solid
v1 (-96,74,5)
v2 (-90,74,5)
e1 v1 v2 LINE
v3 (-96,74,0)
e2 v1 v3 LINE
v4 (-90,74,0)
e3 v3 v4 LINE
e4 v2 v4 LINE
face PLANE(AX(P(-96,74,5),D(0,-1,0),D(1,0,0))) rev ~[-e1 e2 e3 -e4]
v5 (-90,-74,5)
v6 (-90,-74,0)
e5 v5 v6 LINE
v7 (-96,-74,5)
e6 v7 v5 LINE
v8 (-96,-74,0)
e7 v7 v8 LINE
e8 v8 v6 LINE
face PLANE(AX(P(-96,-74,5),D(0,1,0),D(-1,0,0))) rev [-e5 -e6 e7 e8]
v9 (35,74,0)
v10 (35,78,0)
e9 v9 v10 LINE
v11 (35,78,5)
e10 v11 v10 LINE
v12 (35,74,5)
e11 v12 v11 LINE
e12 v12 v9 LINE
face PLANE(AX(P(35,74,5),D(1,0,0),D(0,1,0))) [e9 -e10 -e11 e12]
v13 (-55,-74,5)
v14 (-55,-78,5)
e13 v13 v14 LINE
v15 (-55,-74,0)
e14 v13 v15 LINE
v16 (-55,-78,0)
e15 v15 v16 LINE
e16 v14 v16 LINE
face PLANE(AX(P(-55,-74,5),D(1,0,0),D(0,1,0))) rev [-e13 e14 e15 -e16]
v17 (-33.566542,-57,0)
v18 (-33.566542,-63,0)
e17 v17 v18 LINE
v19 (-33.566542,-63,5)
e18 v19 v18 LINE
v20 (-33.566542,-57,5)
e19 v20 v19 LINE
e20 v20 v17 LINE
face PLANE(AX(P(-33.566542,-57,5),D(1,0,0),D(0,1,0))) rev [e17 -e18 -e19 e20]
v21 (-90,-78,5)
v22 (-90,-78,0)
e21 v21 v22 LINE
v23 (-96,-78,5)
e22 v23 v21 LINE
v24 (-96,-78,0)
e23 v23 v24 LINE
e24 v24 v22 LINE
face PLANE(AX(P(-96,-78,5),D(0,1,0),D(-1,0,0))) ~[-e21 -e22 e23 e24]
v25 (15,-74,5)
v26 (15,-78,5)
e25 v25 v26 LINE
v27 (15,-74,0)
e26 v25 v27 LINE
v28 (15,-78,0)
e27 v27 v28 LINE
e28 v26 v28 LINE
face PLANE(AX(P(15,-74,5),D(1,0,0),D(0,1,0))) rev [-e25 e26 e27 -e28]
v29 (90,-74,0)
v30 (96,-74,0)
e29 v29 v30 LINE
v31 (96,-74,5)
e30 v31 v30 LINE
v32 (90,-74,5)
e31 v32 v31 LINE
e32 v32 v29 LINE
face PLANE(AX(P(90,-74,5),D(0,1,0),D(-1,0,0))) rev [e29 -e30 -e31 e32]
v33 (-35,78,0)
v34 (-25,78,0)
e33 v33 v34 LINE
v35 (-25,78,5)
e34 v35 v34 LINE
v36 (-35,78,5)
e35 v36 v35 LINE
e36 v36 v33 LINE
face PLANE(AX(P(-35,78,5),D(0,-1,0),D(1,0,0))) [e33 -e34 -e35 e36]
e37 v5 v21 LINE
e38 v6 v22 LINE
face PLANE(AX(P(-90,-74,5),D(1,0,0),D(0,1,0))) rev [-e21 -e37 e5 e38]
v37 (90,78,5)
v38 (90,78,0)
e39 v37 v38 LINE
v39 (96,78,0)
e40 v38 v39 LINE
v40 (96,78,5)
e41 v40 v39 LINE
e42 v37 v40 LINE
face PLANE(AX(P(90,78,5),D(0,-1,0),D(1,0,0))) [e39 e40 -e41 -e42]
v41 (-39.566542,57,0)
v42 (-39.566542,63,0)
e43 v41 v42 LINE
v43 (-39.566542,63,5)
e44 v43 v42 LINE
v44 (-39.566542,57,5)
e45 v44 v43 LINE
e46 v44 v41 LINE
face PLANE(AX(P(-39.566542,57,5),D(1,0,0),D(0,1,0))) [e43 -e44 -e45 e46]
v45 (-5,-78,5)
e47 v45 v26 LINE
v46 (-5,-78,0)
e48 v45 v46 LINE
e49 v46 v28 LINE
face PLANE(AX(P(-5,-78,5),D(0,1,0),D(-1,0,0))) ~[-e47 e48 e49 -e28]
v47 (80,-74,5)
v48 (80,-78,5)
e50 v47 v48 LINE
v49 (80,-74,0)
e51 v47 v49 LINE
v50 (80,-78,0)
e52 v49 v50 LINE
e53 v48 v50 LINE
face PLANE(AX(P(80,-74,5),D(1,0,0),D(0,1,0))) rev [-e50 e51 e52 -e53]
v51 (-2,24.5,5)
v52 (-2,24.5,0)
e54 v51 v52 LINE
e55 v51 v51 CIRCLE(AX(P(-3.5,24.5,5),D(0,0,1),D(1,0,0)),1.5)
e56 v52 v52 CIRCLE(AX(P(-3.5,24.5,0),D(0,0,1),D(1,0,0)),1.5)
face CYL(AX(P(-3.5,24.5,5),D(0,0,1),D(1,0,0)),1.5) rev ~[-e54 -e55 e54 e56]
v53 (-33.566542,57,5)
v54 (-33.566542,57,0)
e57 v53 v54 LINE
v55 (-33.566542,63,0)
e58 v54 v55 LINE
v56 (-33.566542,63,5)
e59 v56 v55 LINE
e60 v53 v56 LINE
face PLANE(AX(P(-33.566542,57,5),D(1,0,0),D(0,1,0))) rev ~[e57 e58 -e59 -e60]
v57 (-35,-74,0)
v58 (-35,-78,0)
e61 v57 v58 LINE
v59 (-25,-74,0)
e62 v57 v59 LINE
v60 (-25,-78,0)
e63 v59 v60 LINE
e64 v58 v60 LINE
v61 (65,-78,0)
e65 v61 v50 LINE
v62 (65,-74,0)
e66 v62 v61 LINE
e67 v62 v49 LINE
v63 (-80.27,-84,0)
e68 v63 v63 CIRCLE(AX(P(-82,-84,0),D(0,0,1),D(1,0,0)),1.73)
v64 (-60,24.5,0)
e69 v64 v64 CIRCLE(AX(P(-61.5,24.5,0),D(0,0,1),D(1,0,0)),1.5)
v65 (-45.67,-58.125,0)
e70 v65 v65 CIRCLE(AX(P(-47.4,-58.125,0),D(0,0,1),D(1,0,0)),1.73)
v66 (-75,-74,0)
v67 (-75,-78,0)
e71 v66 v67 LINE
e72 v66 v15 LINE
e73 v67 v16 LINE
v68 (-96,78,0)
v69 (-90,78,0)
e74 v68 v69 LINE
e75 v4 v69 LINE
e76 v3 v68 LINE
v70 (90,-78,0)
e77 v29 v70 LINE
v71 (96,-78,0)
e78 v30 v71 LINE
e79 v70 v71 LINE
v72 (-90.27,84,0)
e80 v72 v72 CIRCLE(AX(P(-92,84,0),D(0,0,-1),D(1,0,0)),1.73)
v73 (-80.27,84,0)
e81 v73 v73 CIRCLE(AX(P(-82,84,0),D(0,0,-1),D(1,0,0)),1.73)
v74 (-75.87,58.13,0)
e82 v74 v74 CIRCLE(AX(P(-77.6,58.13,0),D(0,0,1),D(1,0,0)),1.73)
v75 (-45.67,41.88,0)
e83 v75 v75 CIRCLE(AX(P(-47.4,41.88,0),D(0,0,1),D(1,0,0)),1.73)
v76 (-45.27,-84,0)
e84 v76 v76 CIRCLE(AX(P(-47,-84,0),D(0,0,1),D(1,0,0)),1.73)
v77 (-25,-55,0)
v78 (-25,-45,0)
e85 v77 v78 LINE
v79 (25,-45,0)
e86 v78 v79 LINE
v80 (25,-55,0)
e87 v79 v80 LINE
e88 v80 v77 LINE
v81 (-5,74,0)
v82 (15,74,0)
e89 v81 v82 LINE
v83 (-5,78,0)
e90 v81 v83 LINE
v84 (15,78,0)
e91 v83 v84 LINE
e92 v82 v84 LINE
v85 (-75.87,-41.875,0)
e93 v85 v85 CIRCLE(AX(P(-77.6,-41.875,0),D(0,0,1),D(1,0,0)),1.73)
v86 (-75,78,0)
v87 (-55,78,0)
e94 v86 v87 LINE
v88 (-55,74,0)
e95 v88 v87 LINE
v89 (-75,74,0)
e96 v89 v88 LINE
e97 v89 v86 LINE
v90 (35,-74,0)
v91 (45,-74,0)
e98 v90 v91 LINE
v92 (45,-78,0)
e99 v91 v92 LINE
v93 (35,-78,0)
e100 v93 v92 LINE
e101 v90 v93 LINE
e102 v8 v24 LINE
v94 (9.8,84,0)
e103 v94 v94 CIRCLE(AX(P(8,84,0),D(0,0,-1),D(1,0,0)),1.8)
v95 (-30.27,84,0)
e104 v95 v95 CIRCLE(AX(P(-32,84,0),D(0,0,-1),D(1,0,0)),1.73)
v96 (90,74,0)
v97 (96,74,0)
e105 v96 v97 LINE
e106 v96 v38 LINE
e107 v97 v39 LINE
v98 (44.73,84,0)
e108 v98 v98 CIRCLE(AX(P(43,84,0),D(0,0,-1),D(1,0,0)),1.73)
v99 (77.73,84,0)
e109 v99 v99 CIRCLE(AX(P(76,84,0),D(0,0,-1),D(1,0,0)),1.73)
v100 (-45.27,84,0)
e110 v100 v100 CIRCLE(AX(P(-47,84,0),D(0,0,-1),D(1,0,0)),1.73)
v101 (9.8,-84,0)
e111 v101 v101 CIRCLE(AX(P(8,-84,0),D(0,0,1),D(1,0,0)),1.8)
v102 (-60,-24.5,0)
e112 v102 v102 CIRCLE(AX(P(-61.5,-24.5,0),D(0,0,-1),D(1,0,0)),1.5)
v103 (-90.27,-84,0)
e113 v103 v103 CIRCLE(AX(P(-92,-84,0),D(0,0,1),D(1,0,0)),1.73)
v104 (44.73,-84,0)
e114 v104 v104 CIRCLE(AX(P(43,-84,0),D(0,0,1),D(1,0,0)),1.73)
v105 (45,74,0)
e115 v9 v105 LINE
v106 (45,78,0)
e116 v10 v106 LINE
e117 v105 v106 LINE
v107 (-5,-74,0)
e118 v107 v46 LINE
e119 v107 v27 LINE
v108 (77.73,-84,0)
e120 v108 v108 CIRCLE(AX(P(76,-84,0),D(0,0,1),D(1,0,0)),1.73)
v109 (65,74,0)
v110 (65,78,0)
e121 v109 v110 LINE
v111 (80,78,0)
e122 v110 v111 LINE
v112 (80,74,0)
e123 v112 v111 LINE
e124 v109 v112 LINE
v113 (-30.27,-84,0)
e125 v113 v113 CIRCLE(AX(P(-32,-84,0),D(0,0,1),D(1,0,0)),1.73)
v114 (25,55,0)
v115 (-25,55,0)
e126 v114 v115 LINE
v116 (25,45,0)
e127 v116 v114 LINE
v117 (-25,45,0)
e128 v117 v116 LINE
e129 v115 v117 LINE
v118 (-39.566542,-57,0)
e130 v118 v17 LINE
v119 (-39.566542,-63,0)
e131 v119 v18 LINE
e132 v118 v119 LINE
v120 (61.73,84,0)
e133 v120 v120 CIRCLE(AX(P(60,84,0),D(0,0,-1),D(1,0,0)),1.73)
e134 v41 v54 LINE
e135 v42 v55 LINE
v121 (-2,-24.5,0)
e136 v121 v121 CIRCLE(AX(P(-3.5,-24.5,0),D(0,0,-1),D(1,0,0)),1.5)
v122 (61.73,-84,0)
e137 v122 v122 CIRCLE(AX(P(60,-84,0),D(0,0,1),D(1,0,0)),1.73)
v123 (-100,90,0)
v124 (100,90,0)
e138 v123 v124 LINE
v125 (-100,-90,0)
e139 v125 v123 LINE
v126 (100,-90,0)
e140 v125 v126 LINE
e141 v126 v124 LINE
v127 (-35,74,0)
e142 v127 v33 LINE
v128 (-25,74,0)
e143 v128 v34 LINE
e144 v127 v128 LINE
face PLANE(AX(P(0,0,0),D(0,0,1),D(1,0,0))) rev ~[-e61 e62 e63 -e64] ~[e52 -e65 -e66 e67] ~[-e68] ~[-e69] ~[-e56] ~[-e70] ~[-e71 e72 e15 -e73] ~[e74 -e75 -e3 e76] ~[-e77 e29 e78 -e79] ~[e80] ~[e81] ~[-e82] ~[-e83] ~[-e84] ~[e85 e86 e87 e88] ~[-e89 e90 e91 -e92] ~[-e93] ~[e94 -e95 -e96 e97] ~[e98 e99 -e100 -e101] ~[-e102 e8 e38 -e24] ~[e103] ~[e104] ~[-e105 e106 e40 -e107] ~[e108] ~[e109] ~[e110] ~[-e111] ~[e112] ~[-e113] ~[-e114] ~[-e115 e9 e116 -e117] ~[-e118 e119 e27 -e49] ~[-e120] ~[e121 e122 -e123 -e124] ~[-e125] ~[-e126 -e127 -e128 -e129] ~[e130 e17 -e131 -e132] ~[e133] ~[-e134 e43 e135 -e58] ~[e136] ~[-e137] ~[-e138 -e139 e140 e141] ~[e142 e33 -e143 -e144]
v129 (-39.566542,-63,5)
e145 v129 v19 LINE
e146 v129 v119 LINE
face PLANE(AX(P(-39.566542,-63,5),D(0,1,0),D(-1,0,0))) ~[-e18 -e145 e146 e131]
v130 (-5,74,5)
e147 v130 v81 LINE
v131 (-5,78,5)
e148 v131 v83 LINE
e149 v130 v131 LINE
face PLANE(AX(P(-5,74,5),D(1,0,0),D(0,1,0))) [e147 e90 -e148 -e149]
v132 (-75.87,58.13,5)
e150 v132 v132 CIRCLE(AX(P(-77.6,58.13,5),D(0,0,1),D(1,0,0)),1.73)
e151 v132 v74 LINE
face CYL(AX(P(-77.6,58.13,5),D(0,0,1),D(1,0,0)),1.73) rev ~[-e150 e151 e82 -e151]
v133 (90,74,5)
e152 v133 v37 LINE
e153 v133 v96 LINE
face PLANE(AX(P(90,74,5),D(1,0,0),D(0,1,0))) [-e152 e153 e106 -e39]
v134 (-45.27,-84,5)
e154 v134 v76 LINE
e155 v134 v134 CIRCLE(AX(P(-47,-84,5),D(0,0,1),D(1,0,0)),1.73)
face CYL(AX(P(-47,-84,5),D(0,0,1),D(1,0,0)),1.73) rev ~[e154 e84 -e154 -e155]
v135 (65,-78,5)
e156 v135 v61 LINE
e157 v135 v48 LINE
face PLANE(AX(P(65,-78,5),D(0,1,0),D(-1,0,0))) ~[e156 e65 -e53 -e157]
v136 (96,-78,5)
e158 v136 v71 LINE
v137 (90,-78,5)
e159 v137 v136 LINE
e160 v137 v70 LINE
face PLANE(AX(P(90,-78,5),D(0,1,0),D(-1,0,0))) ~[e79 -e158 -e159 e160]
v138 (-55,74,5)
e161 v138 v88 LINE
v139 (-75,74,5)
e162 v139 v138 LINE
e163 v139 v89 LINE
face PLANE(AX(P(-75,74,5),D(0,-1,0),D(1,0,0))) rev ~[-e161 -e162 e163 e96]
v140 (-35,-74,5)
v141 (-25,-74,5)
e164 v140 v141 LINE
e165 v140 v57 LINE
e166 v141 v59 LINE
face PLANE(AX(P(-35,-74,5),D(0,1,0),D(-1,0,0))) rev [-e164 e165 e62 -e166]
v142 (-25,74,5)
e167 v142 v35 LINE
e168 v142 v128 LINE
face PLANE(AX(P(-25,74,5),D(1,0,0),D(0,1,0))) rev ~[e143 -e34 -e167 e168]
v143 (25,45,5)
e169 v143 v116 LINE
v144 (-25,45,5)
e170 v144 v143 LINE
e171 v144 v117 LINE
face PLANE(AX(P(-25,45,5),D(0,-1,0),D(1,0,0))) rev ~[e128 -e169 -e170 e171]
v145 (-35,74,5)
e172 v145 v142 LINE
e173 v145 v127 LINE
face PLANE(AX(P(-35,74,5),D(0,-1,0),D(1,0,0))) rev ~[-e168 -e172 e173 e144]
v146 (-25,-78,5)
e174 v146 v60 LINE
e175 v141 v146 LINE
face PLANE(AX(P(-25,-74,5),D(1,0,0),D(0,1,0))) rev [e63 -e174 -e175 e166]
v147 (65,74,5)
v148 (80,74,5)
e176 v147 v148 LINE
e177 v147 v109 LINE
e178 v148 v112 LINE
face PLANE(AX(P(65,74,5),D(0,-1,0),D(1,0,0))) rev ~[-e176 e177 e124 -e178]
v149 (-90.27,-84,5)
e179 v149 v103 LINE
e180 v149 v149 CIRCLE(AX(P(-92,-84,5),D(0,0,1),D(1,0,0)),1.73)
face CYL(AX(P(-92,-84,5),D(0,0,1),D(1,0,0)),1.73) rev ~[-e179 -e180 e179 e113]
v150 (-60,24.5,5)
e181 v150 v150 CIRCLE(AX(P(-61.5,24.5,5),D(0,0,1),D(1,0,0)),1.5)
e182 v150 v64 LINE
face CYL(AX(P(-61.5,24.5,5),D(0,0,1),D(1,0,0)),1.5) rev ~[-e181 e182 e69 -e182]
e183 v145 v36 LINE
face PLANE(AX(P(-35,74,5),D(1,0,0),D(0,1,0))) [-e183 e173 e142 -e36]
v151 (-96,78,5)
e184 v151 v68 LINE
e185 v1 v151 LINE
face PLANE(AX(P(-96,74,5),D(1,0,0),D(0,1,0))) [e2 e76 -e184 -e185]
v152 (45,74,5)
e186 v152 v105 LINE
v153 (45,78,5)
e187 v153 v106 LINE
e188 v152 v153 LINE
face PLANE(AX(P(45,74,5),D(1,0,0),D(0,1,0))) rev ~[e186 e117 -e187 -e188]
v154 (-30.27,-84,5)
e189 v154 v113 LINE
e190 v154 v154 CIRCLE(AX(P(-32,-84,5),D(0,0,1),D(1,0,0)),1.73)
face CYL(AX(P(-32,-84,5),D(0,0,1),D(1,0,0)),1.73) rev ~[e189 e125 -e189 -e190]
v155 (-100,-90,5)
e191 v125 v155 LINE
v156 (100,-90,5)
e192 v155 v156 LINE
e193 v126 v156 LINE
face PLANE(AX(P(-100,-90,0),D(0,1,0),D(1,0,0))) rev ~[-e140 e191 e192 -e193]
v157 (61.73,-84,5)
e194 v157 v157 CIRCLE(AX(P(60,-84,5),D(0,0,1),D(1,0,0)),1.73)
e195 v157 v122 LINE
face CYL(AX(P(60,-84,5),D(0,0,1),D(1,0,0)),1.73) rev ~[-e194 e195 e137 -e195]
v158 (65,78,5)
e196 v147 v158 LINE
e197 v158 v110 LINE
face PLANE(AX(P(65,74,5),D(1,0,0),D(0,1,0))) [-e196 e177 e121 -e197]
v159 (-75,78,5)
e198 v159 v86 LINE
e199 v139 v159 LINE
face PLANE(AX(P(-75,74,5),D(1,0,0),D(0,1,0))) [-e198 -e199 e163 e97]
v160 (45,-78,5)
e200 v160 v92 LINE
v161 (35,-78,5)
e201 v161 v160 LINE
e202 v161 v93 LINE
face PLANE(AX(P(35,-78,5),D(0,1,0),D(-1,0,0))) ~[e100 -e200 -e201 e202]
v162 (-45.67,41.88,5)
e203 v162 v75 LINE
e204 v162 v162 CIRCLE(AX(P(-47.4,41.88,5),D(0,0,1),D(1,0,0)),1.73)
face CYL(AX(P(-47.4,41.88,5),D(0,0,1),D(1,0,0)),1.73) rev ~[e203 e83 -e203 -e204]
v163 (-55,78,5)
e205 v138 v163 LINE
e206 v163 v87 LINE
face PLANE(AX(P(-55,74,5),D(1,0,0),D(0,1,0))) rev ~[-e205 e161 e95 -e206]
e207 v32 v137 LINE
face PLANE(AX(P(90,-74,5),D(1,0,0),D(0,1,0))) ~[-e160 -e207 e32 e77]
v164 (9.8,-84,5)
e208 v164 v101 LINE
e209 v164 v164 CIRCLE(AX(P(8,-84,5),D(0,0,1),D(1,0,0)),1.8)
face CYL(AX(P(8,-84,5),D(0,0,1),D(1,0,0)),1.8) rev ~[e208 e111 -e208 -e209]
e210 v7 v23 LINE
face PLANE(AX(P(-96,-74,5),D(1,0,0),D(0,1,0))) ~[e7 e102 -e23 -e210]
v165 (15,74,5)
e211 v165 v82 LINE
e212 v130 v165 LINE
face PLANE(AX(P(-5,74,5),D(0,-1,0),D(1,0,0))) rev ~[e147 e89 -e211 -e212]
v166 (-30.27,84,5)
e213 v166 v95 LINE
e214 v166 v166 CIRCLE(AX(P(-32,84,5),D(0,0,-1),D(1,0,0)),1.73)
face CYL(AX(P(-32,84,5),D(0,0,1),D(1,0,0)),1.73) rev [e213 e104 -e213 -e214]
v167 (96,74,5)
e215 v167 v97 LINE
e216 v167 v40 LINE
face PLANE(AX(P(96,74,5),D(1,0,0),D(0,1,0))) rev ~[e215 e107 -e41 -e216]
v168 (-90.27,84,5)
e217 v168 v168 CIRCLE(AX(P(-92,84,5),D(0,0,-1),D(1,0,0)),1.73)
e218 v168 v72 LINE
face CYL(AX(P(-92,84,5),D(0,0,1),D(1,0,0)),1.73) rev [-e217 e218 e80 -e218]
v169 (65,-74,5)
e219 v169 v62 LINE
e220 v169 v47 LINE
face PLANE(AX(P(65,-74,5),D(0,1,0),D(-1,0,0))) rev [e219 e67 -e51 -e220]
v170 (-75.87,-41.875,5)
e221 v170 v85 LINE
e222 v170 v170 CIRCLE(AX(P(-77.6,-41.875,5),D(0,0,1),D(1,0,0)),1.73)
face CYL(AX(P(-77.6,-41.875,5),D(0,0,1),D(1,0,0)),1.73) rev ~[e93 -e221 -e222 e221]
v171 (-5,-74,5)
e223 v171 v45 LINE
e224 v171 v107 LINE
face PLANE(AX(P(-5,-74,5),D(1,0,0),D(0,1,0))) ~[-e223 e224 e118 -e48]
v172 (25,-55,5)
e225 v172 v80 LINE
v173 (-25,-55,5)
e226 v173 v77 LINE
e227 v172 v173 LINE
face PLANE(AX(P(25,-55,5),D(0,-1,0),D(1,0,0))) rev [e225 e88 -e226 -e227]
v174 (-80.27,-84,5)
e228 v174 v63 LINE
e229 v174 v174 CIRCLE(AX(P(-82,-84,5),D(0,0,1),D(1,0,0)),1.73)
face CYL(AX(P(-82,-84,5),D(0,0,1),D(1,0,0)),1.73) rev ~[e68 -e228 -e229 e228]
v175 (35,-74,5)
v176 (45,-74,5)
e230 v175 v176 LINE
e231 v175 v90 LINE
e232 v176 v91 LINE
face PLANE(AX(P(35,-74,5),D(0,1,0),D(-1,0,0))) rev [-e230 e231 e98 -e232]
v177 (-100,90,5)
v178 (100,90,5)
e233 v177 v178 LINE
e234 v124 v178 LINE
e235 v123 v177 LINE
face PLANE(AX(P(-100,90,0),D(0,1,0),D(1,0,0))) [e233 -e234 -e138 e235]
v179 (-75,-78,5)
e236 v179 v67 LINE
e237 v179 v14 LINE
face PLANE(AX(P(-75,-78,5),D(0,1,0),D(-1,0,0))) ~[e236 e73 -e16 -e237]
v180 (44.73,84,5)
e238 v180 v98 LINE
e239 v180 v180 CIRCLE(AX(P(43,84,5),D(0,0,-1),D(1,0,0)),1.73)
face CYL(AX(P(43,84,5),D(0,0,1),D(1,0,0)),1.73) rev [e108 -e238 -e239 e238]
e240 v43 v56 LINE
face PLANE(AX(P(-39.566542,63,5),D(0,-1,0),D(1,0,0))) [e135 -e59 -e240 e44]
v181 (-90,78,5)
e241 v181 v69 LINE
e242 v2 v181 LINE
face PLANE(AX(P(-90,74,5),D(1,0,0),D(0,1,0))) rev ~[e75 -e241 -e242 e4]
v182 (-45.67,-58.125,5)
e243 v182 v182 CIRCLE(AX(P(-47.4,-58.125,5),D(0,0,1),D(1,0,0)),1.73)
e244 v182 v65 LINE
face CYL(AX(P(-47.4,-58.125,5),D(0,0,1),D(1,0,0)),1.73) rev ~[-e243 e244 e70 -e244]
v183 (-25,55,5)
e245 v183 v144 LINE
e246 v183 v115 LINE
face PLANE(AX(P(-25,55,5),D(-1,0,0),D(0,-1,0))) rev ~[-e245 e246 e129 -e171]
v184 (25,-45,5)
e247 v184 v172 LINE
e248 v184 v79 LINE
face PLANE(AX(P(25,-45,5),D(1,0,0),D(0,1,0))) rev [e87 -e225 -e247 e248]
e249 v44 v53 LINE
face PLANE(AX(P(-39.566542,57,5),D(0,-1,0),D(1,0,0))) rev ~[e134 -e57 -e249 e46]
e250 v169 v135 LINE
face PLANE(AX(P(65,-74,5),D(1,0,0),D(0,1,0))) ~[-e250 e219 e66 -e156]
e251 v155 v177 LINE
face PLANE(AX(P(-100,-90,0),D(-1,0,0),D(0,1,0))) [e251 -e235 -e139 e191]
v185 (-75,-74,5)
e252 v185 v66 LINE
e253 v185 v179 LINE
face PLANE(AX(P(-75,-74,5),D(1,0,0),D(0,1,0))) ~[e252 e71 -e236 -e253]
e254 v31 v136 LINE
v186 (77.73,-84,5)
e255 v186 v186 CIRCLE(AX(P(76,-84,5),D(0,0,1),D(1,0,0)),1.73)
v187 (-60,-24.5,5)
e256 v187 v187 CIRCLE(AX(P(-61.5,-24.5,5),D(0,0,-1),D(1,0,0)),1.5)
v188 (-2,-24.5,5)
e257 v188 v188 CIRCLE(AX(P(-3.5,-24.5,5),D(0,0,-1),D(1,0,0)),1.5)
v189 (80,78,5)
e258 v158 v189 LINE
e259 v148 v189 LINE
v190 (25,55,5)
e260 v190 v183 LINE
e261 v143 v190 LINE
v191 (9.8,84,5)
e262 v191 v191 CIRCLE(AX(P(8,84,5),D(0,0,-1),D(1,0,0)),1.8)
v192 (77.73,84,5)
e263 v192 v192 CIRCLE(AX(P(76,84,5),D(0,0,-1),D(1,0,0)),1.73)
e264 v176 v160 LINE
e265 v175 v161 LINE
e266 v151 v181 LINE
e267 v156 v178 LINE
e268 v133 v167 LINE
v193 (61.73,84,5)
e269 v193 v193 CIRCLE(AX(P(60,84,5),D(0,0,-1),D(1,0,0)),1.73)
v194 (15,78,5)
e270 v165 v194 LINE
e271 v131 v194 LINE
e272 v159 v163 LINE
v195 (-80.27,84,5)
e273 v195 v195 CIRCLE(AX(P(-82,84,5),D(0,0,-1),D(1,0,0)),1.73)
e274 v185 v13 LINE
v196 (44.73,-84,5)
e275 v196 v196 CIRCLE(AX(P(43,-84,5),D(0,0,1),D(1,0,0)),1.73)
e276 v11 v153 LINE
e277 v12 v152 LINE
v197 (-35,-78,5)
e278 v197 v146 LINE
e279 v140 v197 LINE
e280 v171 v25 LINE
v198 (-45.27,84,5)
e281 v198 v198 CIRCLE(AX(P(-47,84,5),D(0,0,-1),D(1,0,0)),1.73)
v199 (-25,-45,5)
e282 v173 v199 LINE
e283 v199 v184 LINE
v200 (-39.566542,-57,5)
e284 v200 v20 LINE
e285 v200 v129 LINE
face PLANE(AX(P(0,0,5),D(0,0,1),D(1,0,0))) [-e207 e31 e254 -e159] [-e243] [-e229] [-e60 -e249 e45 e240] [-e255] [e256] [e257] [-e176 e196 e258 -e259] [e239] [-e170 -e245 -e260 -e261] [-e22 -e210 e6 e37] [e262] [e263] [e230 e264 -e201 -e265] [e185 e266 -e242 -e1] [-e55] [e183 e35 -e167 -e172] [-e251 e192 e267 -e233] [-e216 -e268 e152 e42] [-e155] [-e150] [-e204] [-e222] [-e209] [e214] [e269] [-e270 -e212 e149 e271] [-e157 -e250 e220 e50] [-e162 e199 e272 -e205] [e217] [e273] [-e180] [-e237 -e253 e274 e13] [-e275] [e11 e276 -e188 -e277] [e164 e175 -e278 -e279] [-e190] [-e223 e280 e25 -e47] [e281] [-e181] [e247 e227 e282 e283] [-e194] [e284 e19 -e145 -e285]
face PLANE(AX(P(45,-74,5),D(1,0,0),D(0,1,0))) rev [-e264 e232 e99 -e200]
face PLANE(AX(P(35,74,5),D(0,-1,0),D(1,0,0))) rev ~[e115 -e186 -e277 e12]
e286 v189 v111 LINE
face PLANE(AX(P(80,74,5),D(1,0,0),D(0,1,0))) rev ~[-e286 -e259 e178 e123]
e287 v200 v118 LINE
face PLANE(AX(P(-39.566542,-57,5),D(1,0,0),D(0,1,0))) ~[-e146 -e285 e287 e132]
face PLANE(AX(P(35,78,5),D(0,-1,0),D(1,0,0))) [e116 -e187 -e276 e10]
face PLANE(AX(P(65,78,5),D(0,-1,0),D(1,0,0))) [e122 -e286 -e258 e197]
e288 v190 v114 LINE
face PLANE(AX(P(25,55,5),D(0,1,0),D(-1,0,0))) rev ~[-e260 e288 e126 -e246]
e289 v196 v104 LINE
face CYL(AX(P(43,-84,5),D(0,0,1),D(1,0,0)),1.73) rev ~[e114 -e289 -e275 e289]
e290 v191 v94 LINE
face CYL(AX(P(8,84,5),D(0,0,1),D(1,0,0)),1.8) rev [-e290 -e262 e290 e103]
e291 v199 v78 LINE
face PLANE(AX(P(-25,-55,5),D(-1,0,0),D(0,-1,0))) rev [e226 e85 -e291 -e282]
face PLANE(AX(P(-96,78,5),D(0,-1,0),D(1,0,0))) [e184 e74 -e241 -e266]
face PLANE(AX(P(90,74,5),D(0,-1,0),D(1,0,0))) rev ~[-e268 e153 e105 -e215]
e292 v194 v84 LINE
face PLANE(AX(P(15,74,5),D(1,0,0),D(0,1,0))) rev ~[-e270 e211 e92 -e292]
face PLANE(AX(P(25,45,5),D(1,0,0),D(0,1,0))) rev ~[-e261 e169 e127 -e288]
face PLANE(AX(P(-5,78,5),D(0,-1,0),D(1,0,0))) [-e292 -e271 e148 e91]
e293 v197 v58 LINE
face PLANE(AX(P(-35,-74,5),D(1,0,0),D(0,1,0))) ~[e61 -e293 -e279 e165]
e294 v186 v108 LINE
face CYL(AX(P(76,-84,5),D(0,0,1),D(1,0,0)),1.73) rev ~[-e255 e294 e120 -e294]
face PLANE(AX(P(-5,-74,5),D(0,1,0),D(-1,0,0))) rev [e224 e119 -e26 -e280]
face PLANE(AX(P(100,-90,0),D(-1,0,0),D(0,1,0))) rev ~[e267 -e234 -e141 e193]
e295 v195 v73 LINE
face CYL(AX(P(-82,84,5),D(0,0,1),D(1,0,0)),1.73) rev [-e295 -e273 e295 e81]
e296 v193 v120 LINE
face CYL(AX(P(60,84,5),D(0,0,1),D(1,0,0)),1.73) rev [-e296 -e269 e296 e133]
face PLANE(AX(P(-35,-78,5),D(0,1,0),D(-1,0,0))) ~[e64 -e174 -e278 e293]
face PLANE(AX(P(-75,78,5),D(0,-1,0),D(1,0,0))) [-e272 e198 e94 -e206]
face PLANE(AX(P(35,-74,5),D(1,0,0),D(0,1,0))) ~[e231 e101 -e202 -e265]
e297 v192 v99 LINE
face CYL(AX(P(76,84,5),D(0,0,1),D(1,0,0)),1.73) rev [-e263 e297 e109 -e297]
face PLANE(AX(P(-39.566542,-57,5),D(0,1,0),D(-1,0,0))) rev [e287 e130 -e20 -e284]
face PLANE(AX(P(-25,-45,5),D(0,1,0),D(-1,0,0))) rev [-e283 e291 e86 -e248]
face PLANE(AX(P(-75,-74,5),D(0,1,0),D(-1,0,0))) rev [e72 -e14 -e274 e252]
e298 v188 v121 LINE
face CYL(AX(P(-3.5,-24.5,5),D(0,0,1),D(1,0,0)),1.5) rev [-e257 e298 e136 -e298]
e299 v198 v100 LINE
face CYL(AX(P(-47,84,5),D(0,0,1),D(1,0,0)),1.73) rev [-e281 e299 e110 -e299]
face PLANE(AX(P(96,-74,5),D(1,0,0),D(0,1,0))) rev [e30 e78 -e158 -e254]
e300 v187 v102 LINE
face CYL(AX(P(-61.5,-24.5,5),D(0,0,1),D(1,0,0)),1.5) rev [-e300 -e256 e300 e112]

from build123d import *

# Parameters (mm, degrees)
SKETCH1_W           = 200
SKETCH1_H           = 180
BOSS_EXTRUDE1_DEPTH = 5
SKETCH3_W           = 20
SKETCH3_H           = 4
CUT_EXTRUDE1_DEPTH  = 5
SKETCH3_6_W         = 20
SKETCH3_6_H         = 4
CUT_EXTRUDE2_DEPTH  = 5
SKETCH3_7_W         = 15
SKETCH3_7_H         = 4
CUT_EXTRUDE3_DEPTH  = 5
SKETCH5_R           = 1.73
CUT_EXTRUDE4_DEPTH  = 5
SKETCH6_W           = 6
SKETCH6_H           = 4
SKETCH6_W_2         = 10
CUT_EXTRUDE5_DEPTH  = 5
SKETCH6_4_W         = 10
SKETCH6_4_H         = 4
SKETCH6_4_W_2       = 6
CUT_EXTRUDE6_DEPTH  = 5
SKETCH7_R           = 1.73
SKETCH7_R_2         = 1.8
CUT_EXTRUDE7_DEPTH  = 5
CUT_EXTRUDE8_DEPTH  = 5
SKETCH9_R           = 1.5
CUT_EXTRUDE11_DEPTH = 5
SKETCH10_R          = 1.73
CUT_EXTRUDE12_DEPTH = 5
SKETCH10_3_R        = 1.73
CUT_EXTRUDE13_DEPTH = 5
SKETCH11_W          = 6
SKETCH11_H          = 6
CUT_EXTRUDE14_DEPTH = 5


with BuildPart() as part:
    # Sketch1 → Boss-Extrude1 (new body)
    with BuildSketch(Plane.XY):
        Rectangle(SKETCH1_W, SKETCH1_H)
    extrude(amount=BOSS_EXTRUDE1_DEPTH)

    # Sketch3 → Cut-Extrude1 (cut)
    with BuildSketch(Plane.XY.offset(5)):
        with Locations((-65, 76)):
            Rectangle(SKETCH3_W, SKETCH3_H)
    cut_extrude1 = extrude(amount=-CUT_EXTRUDE1_DEPTH, mode=Mode.SUBTRACT)

    # Sketch3<6> → Cut-Extrude2 (cut)
    with BuildSketch(Plane.XY.offset(5)):
        with Locations((5, 76)):
            Rectangle(SKETCH3_6_W, SKETCH3_6_H)
    cut_extrude2 = extrude(amount=-CUT_EXTRUDE2_DEPTH, mode=Mode.SUBTRACT)

    # Sketch3<7> → Cut-Extrude3 (cut)
    with BuildSketch(Plane.XY.offset(5)):
        with Locations((72.5, 76)):
            Rectangle(SKETCH3_7_W, SKETCH3_7_H)
    cut_extrude3 = extrude(amount=-CUT_EXTRUDE3_DEPTH, mode=Mode.SUBTRACT)

    # Mirror1: Cut-Extrude1, Cut-Extrude2, Cut-Extrude3 across plane
    add(cut_extrude1.mirror(Plane.ZX), mode=Mode.SUBTRACT)
    add(cut_extrude2.mirror(Plane.ZX), mode=Mode.SUBTRACT)
    add(cut_extrude3.mirror(Plane.ZX), mode=Mode.SUBTRACT)

    # Sketch5 → Cut-Extrude4 (cut)
    with BuildSketch(Plane.XY.offset(5)):
        with Locations((-92, -84)):
            Circle(SKETCH5_R)
        with Locations((-32, -84)):
            Circle(SKETCH5_R)
        with Locations((43, -84)):
            Circle(SKETCH5_R)
        with Locations((76, -84)):
            Circle(SKETCH5_R)
    cut_extrude4 = extrude(amount=-CUT_EXTRUDE4_DEPTH, mode=Mode.SUBTRACT)

    # Mirror2: Cut-Extrude4 across plane
    add(cut_extrude4.mirror(Plane.ZX), mode=Mode.SUBTRACT)

    # Sketch6 → Cut-Extrude5 (cut)
    with BuildSketch(Plane.XY.offset(5)):
        with Locations((-93, 76)):
            Rectangle(SKETCH6_W, SKETCH6_H)
        with Locations((-30, 76)):
            Rectangle(SKETCH6_W_2, SKETCH6_H)
    cut_extrude5 = extrude(amount=-CUT_EXTRUDE5_DEPTH, mode=Mode.SUBTRACT)

    # Sketch6<4> → Cut-Extrude6 (cut)
    with BuildSketch(Plane.XY.offset(5)):
        with Locations((40, 76)):
            Rectangle(SKETCH6_4_W, SKETCH6_4_H)
        with Locations((93, 76)):
            Rectangle(SKETCH6_4_W_2, SKETCH6_4_H)
    cut_extrude6 = extrude(amount=-CUT_EXTRUDE6_DEPTH, mode=Mode.SUBTRACT)

    # Mirror3: Cut-Extrude5, Cut-Extrude6 across plane
    add(cut_extrude5.mirror(Plane.ZX), mode=Mode.SUBTRACT)
    add(cut_extrude6.mirror(Plane.ZX), mode=Mode.SUBTRACT)

    # Sketch7 → Cut-Extrude7 (cut)
    with BuildSketch(Plane.XY.offset(5)):
        with Locations((-82, -84)):
            Circle(SKETCH7_R)
        with Locations((-47, -84)):
            Circle(SKETCH7_R)
        with Locations((8, -84)):
            Circle(SKETCH7_R_2)
        with Locations((60, -84)):
            Circle(SKETCH7_R)
    cut_extrude7 = extrude(amount=-CUT_EXTRUDE7_DEPTH, mode=Mode.SUBTRACT)

    # Mirror4: Cut-Extrude7 across plane
    add(cut_extrude7.mirror(Plane.ZX), mode=Mode.SUBTRACT)

    # Sketch8 → Cut-Extrude8 (cut)
    with BuildSketch(Plane.XY.offset(5)):
        Polygon((0, 45), (25, 45), (25, 55), (0, 55), (-25, 55), (-25, 45), align=None)
    cut_extrude8 = extrude(amount=-CUT_EXTRUDE8_DEPTH, mode=Mode.SUBTRACT)

    # Mirror5: Cut-Extrude8 across plane
    add(cut_extrude8.mirror(Plane.ZX), mode=Mode.SUBTRACT)

    # Sketch9 → Cut-Extrude11 (cut)
    with BuildSketch(Plane.XY.offset(5)):
        with Locations((-3.5, 24.5)):
            Circle(SKETCH9_R)
        with Locations((-61.5, 24.5)):
            Circle(SKETCH9_R)
    cut_extrude11 = extrude(amount=-CUT_EXTRUDE11_DEPTH, mode=Mode.SUBTRACT)

    # Mirror7: Cut-Extrude11 across plane
    add(cut_extrude11.mirror(Plane.ZX), mode=Mode.SUBTRACT)

    # Sketch10 → Cut-Extrude12 (cut)
    with BuildSketch(Plane.XY.offset(5)):
        with Locations((-77.6, -41.875)):
            Circle(SKETCH10_R)
        with Locations((-47.4, -58.125)):
            Circle(SKETCH10_R)
    extrude(amount=-CUT_EXTRUDE12_DEPTH, mode=Mode.SUBTRACT)

    # Sketch10<3> → Cut-Extrude13 (cut)
    with BuildSketch(Plane.XY.offset(5)):
        with Locations((-47.4, 41.88)):
            Circle(SKETCH10_3_R)
        with Locations((-77.6, 58.13)):
            Circle(SKETCH10_3_R)
    extrude(amount=-CUT_EXTRUDE13_DEPTH, mode=Mode.SUBTRACT)

    # Sketch11 → Cut-Extrude14 (cut)
    with BuildSketch(Plane.XY.offset(5)):
        with Locations((-36.5665421, 60)):
            Rectangle(SKETCH11_W, SKETCH11_H)
    cut_extrude14 = extrude(amount=-CUT_EXTRUDE14_DEPTH, mode=Mode.SUBTRACT)

    # Mirror9: Cut-Extrude14 across plane
    add(cut_extrude14.mirror(Plane.ZX), mode=Mode.SUBTRACT)


solid = part.part
